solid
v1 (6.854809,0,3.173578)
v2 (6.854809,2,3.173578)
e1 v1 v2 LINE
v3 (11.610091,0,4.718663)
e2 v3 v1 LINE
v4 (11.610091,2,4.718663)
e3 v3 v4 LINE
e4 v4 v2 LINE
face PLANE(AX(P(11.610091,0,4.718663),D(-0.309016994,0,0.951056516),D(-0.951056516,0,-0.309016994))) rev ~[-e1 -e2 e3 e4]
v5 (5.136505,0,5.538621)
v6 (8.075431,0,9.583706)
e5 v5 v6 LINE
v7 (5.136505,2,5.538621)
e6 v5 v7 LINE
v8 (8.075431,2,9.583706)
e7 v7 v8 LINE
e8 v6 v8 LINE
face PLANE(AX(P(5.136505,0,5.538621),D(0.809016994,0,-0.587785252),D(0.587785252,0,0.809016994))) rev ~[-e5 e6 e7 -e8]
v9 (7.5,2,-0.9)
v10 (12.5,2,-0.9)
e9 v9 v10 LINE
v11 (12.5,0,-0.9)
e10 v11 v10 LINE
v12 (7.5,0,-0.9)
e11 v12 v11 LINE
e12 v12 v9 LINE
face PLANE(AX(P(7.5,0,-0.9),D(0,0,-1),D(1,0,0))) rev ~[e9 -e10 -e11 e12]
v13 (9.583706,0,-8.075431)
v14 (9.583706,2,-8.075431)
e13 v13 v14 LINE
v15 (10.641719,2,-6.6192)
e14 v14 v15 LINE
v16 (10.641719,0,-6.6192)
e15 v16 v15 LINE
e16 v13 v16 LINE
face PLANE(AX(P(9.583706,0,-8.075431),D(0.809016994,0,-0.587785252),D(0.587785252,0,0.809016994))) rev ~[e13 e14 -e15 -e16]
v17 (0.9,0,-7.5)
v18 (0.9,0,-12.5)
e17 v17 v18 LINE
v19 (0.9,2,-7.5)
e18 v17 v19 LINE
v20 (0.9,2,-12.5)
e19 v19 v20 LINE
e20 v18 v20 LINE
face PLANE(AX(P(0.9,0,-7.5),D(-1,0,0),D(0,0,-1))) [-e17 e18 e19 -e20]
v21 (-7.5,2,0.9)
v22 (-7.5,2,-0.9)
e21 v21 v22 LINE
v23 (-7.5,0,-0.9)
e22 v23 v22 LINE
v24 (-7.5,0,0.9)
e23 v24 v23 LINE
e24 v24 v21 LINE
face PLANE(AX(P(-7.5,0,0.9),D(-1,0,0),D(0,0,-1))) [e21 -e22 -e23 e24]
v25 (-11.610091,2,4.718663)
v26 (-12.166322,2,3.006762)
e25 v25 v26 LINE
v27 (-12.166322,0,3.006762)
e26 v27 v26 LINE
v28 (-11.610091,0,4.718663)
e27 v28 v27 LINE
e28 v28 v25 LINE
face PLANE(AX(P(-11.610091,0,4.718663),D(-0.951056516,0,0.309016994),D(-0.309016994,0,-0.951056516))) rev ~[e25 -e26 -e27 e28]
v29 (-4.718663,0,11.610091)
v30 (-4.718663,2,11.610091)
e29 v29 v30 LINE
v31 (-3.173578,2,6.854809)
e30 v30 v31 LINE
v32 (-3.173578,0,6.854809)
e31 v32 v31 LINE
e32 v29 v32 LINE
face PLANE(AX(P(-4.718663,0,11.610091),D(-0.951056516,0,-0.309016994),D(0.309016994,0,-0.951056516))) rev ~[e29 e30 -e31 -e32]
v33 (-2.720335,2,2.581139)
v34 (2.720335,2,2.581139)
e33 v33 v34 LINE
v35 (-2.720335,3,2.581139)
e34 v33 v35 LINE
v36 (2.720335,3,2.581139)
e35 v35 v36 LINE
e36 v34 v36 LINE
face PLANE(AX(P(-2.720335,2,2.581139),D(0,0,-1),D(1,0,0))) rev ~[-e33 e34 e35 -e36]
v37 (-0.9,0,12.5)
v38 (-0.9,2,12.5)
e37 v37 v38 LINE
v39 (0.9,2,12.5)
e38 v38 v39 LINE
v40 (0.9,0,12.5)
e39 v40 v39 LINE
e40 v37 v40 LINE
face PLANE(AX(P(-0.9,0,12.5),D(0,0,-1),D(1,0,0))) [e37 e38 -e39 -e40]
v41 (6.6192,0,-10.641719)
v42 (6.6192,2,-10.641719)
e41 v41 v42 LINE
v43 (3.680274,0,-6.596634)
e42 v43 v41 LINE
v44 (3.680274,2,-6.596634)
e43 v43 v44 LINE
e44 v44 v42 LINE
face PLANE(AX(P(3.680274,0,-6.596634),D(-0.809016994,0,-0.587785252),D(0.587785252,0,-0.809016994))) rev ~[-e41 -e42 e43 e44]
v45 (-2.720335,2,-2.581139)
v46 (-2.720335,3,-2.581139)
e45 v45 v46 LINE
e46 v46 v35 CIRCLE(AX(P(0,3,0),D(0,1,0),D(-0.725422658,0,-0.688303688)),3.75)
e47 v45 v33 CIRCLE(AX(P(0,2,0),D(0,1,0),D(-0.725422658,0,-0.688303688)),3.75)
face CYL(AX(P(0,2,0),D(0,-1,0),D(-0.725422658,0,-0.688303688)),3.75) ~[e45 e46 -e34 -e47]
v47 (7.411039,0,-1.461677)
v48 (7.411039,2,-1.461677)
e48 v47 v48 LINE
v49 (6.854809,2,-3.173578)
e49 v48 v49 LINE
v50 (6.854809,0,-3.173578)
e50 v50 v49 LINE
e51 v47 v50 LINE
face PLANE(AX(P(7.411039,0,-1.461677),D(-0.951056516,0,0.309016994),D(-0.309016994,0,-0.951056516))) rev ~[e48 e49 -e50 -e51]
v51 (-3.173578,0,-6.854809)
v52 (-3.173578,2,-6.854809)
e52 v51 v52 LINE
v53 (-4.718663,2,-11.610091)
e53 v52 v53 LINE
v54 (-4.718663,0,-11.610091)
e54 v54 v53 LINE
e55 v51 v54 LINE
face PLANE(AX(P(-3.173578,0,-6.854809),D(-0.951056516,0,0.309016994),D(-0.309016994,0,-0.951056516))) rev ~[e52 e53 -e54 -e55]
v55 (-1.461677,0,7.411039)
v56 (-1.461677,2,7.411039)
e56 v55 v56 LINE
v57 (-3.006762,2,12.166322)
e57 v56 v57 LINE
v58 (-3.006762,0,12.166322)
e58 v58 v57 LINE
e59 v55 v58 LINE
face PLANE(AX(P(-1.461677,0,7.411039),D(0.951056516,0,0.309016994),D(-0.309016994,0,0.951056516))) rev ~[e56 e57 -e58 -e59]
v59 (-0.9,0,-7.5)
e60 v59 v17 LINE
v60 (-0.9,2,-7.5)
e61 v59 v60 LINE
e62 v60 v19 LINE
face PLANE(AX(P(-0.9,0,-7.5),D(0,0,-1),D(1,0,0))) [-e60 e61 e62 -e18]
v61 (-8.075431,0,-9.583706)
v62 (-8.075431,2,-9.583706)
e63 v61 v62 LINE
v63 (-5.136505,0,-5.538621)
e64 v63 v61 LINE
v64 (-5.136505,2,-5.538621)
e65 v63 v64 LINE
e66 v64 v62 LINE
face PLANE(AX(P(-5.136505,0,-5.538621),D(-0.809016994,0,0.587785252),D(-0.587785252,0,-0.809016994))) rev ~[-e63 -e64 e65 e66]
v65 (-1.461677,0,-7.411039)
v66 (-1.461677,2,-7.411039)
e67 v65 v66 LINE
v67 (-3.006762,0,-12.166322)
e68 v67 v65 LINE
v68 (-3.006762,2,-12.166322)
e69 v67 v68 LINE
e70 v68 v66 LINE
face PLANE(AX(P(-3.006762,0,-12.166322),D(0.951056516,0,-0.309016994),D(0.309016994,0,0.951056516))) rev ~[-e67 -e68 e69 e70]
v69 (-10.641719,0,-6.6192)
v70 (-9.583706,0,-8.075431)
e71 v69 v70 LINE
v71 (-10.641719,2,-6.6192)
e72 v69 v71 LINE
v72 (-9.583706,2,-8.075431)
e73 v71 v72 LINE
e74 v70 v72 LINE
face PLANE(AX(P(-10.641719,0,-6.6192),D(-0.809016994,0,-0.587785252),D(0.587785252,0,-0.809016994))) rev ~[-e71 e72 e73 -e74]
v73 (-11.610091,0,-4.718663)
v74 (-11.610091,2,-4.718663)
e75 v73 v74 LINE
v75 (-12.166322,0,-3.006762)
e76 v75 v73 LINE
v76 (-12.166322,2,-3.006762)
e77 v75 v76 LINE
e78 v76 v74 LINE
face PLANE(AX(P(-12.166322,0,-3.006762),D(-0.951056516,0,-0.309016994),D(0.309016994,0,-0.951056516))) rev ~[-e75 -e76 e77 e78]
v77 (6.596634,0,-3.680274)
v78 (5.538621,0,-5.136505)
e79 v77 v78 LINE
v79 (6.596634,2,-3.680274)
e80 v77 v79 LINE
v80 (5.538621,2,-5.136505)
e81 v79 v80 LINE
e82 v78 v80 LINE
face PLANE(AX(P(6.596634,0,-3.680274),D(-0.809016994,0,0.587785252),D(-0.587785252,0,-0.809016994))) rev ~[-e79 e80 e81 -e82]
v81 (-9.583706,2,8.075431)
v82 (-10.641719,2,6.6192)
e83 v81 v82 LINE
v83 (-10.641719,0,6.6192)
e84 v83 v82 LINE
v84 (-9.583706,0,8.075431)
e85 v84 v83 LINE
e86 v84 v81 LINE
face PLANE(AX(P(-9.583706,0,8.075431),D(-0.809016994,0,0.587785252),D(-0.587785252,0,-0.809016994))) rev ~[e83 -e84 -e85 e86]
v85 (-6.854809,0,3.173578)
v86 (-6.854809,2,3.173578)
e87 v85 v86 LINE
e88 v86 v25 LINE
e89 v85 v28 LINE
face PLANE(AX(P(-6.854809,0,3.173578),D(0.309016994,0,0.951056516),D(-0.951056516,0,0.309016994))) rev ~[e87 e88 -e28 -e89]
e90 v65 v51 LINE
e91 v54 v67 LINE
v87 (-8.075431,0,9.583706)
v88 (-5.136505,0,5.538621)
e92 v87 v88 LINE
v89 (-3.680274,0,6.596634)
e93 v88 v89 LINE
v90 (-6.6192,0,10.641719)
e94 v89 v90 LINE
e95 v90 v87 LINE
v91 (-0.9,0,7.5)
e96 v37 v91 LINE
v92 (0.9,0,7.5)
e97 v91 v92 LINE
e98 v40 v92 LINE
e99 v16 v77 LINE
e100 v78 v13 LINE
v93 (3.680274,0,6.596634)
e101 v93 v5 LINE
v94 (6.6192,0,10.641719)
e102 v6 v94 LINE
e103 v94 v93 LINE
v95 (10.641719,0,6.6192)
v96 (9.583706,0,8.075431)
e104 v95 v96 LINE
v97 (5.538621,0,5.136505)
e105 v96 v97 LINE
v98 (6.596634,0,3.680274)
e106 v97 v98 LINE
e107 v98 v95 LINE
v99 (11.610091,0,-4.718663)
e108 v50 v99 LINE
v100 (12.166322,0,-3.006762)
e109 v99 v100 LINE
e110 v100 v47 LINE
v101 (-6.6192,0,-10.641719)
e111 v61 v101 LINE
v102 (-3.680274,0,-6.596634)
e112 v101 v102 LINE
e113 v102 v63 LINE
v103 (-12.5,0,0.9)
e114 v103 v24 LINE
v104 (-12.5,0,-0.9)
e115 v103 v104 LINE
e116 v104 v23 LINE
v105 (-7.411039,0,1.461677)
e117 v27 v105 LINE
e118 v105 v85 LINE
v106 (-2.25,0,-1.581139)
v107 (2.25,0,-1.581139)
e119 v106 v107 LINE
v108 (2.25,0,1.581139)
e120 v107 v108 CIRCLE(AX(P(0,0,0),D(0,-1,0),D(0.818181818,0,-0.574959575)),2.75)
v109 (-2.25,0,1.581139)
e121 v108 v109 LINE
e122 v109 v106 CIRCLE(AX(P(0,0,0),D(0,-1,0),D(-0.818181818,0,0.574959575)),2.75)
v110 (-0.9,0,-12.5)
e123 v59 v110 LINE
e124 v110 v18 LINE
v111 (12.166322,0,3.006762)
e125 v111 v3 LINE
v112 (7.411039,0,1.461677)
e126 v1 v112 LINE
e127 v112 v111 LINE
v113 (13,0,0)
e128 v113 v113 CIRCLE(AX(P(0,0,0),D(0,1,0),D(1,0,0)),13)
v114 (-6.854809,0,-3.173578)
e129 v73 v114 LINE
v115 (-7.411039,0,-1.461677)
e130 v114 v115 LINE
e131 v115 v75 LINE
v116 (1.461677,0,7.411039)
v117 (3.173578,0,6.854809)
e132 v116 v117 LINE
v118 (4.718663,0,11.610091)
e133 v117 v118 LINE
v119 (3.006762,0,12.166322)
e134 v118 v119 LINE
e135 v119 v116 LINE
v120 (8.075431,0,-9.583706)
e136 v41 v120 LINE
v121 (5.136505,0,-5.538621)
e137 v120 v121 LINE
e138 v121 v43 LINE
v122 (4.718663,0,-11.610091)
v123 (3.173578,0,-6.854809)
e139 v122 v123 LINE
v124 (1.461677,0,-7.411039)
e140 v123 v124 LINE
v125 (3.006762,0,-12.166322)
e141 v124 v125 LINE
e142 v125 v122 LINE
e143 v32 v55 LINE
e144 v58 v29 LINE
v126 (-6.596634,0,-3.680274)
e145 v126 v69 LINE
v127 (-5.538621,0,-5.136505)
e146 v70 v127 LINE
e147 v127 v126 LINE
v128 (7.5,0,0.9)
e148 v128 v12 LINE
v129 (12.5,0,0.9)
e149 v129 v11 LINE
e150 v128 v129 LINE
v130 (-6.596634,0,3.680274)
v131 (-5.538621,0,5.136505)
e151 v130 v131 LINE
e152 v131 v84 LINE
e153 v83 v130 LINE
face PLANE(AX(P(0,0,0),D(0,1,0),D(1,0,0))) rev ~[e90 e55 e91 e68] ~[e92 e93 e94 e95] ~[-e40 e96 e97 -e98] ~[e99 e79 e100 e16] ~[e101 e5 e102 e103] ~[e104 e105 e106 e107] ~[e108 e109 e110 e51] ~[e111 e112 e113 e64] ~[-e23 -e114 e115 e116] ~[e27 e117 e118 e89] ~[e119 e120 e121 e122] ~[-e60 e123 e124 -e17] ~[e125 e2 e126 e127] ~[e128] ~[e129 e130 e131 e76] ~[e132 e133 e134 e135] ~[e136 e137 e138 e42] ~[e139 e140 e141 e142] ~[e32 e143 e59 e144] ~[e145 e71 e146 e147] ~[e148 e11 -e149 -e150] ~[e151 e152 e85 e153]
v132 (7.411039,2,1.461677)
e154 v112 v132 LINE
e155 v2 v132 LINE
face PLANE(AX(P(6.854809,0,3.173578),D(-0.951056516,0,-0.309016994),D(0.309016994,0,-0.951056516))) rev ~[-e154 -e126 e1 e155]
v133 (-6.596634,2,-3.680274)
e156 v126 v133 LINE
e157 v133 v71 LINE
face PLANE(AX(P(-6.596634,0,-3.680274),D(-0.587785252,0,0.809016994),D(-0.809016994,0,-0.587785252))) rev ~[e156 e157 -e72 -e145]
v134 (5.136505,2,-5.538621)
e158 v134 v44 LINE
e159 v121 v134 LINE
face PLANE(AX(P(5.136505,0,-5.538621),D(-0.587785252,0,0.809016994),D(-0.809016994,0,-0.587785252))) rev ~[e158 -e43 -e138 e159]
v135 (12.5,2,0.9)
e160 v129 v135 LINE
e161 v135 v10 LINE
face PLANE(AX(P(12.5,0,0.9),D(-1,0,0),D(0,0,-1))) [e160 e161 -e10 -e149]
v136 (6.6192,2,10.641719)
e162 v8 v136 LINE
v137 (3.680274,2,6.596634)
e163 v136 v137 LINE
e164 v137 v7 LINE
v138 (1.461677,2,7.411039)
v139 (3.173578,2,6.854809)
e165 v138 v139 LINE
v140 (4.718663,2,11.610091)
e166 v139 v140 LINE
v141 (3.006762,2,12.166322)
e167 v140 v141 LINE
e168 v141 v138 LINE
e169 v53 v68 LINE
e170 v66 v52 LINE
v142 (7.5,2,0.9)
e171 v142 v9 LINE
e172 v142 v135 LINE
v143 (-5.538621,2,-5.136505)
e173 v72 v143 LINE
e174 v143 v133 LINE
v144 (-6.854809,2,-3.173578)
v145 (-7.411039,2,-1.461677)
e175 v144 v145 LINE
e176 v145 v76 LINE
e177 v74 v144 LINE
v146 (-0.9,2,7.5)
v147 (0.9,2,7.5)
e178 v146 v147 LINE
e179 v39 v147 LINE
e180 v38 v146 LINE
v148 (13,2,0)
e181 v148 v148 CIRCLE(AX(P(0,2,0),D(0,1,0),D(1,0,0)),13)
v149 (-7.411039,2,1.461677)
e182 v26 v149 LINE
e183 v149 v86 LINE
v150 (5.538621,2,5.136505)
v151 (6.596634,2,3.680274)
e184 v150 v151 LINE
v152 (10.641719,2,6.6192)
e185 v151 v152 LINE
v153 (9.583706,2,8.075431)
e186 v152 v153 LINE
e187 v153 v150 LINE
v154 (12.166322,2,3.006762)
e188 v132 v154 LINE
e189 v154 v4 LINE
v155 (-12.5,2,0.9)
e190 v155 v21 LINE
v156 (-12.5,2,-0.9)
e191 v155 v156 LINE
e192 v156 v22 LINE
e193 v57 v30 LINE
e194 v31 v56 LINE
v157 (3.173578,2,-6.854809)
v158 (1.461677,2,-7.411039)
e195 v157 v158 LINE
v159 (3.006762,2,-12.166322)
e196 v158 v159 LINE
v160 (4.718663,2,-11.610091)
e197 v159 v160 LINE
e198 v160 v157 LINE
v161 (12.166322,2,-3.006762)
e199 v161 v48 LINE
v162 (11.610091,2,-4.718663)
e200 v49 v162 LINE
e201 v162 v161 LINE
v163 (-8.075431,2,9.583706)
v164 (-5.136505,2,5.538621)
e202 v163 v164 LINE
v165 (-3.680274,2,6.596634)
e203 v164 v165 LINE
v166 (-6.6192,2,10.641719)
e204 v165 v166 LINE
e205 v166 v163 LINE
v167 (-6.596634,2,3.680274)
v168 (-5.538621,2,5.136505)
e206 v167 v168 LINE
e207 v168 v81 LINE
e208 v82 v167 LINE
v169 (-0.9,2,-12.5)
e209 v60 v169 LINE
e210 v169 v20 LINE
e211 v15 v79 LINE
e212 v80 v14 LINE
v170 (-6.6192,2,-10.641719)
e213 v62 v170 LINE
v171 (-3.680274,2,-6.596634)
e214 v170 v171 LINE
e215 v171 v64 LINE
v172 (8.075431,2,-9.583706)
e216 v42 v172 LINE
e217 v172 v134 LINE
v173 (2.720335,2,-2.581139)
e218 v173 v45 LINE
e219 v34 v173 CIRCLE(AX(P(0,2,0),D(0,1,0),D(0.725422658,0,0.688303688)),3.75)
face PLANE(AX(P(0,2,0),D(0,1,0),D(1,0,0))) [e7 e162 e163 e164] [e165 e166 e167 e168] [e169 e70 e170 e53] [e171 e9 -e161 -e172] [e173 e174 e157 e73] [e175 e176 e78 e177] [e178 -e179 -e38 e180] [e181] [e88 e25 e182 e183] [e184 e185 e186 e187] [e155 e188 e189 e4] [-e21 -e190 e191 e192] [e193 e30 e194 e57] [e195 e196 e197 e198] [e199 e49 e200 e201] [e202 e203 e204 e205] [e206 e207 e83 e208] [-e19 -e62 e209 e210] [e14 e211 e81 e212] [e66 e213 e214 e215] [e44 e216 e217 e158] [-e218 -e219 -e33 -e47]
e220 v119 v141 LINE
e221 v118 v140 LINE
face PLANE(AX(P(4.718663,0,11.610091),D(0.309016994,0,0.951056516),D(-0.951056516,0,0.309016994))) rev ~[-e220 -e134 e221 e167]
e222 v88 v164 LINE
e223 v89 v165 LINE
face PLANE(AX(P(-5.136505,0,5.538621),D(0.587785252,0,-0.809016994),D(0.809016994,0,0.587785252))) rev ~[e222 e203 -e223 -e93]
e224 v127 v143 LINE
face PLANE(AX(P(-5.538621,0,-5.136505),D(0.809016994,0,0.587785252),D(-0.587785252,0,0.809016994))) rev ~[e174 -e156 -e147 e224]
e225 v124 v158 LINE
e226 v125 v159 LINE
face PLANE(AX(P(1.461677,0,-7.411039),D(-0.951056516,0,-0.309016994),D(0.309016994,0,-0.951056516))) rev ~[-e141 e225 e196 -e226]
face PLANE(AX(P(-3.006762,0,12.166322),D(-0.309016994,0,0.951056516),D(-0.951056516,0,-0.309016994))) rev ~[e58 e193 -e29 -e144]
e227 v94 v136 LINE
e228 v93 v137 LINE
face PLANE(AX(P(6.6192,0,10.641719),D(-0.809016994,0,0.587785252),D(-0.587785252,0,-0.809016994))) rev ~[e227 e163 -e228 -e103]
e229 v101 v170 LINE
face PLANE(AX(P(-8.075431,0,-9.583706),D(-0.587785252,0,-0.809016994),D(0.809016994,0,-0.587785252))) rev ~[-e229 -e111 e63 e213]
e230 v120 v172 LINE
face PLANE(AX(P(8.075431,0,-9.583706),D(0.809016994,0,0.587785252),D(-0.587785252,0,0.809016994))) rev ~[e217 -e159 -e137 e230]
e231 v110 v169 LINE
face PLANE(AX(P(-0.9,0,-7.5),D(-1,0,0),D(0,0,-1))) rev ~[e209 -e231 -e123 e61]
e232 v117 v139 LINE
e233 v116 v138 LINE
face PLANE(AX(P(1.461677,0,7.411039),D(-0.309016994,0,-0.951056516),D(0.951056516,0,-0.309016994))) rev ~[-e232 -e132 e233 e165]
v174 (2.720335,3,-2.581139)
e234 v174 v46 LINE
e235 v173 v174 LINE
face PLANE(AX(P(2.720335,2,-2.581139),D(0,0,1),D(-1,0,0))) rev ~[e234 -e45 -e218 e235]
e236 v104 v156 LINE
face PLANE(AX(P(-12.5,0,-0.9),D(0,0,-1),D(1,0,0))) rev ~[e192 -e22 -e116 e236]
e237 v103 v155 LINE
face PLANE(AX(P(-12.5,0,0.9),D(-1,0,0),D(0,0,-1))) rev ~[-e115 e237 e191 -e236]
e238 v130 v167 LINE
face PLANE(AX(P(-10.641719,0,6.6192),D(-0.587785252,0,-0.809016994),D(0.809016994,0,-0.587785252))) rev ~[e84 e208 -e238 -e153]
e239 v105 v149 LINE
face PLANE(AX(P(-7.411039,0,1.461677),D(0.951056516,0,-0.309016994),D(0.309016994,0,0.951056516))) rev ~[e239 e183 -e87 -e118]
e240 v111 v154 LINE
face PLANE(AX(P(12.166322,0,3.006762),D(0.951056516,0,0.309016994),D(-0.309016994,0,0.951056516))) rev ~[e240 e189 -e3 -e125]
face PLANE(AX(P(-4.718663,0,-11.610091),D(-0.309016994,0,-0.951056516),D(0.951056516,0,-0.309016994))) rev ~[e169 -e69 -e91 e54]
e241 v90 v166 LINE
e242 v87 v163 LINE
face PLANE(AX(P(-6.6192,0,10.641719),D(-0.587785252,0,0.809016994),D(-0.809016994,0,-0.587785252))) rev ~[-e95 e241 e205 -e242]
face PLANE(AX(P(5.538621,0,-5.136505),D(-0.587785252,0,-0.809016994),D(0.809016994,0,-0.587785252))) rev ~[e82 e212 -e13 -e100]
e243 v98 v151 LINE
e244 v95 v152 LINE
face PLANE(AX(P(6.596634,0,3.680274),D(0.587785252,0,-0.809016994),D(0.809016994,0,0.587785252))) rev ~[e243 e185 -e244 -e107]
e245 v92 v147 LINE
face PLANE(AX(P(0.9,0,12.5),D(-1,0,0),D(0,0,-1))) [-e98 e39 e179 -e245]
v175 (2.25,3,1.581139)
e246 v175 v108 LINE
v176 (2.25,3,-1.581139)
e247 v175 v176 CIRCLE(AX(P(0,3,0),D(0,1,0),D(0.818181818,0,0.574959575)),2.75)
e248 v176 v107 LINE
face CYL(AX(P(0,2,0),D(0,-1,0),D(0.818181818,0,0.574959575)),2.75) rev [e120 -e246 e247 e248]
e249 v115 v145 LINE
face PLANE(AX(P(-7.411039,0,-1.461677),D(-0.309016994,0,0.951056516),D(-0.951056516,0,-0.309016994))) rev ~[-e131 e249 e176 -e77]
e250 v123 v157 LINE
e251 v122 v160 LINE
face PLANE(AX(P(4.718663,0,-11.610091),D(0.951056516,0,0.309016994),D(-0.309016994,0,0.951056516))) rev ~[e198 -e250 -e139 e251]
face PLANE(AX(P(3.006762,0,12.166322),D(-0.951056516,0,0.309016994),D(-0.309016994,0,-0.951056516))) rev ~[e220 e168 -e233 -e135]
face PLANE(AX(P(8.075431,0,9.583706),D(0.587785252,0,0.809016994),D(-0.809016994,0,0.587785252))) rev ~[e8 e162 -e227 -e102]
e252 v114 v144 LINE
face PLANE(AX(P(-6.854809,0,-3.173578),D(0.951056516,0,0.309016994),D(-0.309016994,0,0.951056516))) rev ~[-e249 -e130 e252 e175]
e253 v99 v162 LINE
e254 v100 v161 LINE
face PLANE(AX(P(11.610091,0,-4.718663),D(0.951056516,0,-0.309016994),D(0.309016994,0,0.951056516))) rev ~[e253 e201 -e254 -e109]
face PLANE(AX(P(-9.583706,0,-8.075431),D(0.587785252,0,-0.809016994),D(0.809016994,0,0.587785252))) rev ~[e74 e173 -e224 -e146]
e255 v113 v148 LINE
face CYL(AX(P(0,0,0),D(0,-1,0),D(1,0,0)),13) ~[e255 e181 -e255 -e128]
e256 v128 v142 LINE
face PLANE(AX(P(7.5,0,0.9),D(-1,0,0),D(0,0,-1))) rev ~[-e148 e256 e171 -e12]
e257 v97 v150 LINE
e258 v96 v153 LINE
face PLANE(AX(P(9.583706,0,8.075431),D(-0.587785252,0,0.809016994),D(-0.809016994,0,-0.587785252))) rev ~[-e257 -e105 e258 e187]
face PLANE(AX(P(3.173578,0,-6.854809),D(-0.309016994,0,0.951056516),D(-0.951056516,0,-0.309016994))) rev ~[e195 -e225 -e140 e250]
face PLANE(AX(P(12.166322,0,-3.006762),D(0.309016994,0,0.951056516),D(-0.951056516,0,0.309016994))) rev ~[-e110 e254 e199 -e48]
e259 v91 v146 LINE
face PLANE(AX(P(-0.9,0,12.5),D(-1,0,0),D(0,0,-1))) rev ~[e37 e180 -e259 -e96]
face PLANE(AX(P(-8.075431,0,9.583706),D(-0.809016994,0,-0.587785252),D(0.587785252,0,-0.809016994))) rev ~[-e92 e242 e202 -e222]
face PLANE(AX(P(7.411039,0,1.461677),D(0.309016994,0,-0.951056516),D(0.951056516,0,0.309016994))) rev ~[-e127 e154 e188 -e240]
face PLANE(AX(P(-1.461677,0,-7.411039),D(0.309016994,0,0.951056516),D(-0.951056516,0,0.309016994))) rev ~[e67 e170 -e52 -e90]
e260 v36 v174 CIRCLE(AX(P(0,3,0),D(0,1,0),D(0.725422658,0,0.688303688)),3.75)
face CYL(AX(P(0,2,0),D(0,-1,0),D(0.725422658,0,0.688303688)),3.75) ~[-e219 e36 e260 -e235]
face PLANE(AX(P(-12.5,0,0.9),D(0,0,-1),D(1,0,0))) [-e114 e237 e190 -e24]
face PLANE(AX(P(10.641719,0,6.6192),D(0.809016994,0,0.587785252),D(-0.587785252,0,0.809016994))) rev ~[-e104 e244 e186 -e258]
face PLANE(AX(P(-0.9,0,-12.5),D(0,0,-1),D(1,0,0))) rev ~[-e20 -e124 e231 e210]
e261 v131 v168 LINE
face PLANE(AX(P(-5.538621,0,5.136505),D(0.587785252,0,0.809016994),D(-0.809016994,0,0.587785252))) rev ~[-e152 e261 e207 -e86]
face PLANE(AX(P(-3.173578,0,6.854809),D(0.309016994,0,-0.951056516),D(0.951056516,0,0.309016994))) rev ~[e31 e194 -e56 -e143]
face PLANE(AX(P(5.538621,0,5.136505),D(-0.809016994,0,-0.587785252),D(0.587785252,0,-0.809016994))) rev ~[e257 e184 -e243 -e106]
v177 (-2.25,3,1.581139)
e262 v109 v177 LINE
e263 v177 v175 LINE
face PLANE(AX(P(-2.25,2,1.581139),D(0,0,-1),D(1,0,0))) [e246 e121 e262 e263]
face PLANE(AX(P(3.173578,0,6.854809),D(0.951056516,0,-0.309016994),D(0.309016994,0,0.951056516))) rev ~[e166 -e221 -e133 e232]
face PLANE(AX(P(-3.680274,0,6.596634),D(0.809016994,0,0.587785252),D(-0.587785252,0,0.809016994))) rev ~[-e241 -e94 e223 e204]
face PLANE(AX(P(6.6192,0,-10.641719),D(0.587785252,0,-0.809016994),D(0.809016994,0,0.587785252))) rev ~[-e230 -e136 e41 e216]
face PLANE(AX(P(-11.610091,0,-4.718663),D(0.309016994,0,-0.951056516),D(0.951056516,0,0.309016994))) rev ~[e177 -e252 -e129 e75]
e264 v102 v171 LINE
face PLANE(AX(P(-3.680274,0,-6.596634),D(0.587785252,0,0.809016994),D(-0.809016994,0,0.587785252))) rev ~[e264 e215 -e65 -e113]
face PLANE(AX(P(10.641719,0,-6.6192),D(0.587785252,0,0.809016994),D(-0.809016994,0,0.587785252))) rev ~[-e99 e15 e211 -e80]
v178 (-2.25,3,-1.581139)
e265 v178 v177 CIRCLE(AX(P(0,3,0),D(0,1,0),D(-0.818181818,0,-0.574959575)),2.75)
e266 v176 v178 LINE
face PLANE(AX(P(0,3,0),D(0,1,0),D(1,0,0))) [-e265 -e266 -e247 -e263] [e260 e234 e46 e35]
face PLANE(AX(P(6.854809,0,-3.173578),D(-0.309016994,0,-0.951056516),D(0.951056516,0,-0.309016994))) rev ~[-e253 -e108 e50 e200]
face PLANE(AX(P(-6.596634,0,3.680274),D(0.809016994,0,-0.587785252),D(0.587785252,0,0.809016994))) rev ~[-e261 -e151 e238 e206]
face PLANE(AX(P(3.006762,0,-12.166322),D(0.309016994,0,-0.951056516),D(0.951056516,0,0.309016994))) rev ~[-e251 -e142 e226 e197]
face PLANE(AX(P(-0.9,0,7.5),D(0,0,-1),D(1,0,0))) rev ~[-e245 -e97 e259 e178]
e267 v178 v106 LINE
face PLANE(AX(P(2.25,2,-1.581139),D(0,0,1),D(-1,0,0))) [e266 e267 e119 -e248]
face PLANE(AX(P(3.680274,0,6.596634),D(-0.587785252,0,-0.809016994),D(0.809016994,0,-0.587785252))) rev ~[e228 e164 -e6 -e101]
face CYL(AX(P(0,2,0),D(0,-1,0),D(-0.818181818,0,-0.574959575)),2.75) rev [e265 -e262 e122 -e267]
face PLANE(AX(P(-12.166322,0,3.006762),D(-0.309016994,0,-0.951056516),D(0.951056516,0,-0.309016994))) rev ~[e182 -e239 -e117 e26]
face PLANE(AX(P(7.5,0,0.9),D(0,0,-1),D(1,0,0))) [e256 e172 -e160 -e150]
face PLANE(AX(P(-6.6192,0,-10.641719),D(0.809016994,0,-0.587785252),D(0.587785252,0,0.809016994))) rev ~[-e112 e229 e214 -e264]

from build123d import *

# Parameters (mm, degrees)
SKETCH1_R           = 13
SKETCH1_W           = 1.8
SKETCH1_H           = 5
SKETCH1_W_2         = 5
SKETCH1_H_2         = 1.8
BOSS_EXTRUDE1_DEPTH = 2
BOSS_EXTRUDE2_DEPTH = 1


with BuildPart() as part:
    # Sketch1 → Boss-Extrude1 (new body)
    with BuildSketch(Plane(origin=(0, 0, 0), x_dir=(1, 0, 0), z_dir=(0, 1, 0))):
        Circle(SKETCH1_R)
        with BuildLine():
            Line((-2.25, 1.58113883), (2.25, 1.58113883))
            ThreePointArc((2.25, 1.58113883), (2.75, 0), (2.25, -1.58113883))
            Line((2.25, -1.58113883), (-2.25, -1.58113883))
            ThreePointArc((-2.25, -1.58113883), (-2.75, 0), (-2.25, 1.58113883))
        make_face(mode=Mode.SUBTRACT)
        Polygon((1.461676593, 7.411039167), (3.006761565, 12.166321749), (4.718663294, 11.610091159), (3.173578322, 6.854808577), align=None, mode=Mode.SUBTRACT)
        with Locations((0, 10)):
            Rectangle(SKETCH1_W, SKETCH1_H, mode=Mode.SUBTRACT)
        Polygon((3.680274097, 6.596634185), (6.619200359, 10.641719157), (8.075430949, 9.583705703), (5.136504687, 5.538620731), align=None, mode=Mode.SUBTRACT)
        Polygon((5.538620731, 5.136504687), (9.583705703, 8.075430949), (10.641719157, 6.619200359), (6.596634185, 3.680274097), align=None, mode=Mode.SUBTRACT)
        Polygon((6.854808577, 3.173578322), (11.610091159, 4.718663294), (12.166321749, 3.006761565), (7.411039167, 1.461676593), align=None, mode=Mode.SUBTRACT)
        with Locations((10, 0)):
            Rectangle(SKETCH1_W_2, SKETCH1_H_2, mode=Mode.SUBTRACT)
        Polygon((7.411039167, -1.461676593), (12.166321749, -3.006761565), (11.610091159, -4.718663294), (6.854808577, -3.173578322), align=None, mode=Mode.SUBTRACT)
        Polygon((6.596634185, -3.680274097), (10.641719157, -6.619200359), (9.583705703, -8.075430949), (5.538620731, -5.136504687), align=None, mode=Mode.SUBTRACT)
        Polygon((5.136504687, -5.538620731), (8.075430949, -9.583705703), (6.619200359, -10.641719157), (3.680274097, -6.596634185), align=None, mode=Mode.SUBTRACT)
        Polygon((3.173578322, -6.854808577), (4.718663294, -11.610091159), (3.006761565, -12.166321749), (1.461676593, -7.411039167), align=None, mode=Mode.SUBTRACT)
        with Locations((0, -10)):
            Rectangle(SKETCH1_W, SKETCH1_H, mode=Mode.SUBTRACT)
        Polygon((-1.461676593, -7.411039167), (-3.006761565, -12.166321749), (-4.718663294, -11.610091159), (-3.173578322, -6.854808577), align=None, mode=Mode.SUBTRACT)
        Polygon((-3.680274097, -6.596634185), (-6.619200359, -10.641719157), (-8.075430949, -9.583705703), (-5.136504687, -5.538620731), align=None, mode=Mode.SUBTRACT)
        Polygon((-5.538620731, -5.136504687), (-9.583705703, -8.075430949), (-10.641719157, -6.619200359), (-6.596634185, -3.680274097), align=None, mode=Mode.SUBTRACT)
        Polygon((-6.854808577, -3.173578322), (-11.610091159, -4.718663294), (-12.166321749, -3.006761565), (-7.411039167, -1.461676593), align=None, mode=Mode.SUBTRACT)
        with Locations((-10, 0)):
            Rectangle(SKETCH1_W_2, SKETCH1_H_2, mode=Mode.SUBTRACT)
        Polygon((-7.411039167, 1.461676593), (-12.166321749, 3.006761565), (-11.610091159, 4.718663294), (-6.854808577, 3.173578322), align=None, mode=Mode.SUBTRACT)
        Polygon((-6.596634185, 3.680274097), (-10.641719157, 6.619200359), (-9.583705703, 8.075430949), (-5.538620731, 5.136504687), align=None, mode=Mode.SUBTRACT)
        Polygon((-5.136504687, 5.538620731), (-8.075430949, 9.583705703), (-6.619200359, 10.641719157), (-3.680274097, 6.596634185), align=None, mode=Mode.SUBTRACT)
        Polygon((-3.173578322, 6.854808577), (-4.718663294, 11.610091159), (-3.006761565, 12.166321749), (-1.461676593, 7.411039167), align=None, mode=Mode.SUBTRACT)
    extrude(amount=BOSS_EXTRUDE1_DEPTH)

    # Sketch2 → Boss-Extrude2 (add)
    with BuildSketch(Plane(origin=(0, 2, 0), x_dir=(1, 0, 0), z_dir=(0, 1, 0))):
        with BuildLine():
            Line((-2.720334968, -2.58113883), (2.720334968, -2.58113883))
            ThreePointArc((2.720334968, -2.58113883), (3.75, 0), (2.720334968, 2.58113883))
            Line((2.720334968, 2.58113883), (-2.720334968, 2.58113883))
            ThreePointArc((-2.720334968, 2.58113883), (-3.75, 0), (-2.720334968, -2.58113883))
        make_face()
        with BuildLine():
            Line((-2.25, -1.58113883), (2.25, -1.58113883))
            ThreePointArc((2.25, -1.58113883), (2.75, 0), (2.25, 1.58113883))
            Line((2.25, 1.58113883), (-2.25, 1.58113883))
            ThreePointArc((-2.25, 1.58113883), (-2.75, 0), (-2.25, -1.58113883))
        make_face(mode=Mode.SUBTRACT)
    extrude(amount=BOSS_EXTRUDE2_DEPTH)


solid = part.part
